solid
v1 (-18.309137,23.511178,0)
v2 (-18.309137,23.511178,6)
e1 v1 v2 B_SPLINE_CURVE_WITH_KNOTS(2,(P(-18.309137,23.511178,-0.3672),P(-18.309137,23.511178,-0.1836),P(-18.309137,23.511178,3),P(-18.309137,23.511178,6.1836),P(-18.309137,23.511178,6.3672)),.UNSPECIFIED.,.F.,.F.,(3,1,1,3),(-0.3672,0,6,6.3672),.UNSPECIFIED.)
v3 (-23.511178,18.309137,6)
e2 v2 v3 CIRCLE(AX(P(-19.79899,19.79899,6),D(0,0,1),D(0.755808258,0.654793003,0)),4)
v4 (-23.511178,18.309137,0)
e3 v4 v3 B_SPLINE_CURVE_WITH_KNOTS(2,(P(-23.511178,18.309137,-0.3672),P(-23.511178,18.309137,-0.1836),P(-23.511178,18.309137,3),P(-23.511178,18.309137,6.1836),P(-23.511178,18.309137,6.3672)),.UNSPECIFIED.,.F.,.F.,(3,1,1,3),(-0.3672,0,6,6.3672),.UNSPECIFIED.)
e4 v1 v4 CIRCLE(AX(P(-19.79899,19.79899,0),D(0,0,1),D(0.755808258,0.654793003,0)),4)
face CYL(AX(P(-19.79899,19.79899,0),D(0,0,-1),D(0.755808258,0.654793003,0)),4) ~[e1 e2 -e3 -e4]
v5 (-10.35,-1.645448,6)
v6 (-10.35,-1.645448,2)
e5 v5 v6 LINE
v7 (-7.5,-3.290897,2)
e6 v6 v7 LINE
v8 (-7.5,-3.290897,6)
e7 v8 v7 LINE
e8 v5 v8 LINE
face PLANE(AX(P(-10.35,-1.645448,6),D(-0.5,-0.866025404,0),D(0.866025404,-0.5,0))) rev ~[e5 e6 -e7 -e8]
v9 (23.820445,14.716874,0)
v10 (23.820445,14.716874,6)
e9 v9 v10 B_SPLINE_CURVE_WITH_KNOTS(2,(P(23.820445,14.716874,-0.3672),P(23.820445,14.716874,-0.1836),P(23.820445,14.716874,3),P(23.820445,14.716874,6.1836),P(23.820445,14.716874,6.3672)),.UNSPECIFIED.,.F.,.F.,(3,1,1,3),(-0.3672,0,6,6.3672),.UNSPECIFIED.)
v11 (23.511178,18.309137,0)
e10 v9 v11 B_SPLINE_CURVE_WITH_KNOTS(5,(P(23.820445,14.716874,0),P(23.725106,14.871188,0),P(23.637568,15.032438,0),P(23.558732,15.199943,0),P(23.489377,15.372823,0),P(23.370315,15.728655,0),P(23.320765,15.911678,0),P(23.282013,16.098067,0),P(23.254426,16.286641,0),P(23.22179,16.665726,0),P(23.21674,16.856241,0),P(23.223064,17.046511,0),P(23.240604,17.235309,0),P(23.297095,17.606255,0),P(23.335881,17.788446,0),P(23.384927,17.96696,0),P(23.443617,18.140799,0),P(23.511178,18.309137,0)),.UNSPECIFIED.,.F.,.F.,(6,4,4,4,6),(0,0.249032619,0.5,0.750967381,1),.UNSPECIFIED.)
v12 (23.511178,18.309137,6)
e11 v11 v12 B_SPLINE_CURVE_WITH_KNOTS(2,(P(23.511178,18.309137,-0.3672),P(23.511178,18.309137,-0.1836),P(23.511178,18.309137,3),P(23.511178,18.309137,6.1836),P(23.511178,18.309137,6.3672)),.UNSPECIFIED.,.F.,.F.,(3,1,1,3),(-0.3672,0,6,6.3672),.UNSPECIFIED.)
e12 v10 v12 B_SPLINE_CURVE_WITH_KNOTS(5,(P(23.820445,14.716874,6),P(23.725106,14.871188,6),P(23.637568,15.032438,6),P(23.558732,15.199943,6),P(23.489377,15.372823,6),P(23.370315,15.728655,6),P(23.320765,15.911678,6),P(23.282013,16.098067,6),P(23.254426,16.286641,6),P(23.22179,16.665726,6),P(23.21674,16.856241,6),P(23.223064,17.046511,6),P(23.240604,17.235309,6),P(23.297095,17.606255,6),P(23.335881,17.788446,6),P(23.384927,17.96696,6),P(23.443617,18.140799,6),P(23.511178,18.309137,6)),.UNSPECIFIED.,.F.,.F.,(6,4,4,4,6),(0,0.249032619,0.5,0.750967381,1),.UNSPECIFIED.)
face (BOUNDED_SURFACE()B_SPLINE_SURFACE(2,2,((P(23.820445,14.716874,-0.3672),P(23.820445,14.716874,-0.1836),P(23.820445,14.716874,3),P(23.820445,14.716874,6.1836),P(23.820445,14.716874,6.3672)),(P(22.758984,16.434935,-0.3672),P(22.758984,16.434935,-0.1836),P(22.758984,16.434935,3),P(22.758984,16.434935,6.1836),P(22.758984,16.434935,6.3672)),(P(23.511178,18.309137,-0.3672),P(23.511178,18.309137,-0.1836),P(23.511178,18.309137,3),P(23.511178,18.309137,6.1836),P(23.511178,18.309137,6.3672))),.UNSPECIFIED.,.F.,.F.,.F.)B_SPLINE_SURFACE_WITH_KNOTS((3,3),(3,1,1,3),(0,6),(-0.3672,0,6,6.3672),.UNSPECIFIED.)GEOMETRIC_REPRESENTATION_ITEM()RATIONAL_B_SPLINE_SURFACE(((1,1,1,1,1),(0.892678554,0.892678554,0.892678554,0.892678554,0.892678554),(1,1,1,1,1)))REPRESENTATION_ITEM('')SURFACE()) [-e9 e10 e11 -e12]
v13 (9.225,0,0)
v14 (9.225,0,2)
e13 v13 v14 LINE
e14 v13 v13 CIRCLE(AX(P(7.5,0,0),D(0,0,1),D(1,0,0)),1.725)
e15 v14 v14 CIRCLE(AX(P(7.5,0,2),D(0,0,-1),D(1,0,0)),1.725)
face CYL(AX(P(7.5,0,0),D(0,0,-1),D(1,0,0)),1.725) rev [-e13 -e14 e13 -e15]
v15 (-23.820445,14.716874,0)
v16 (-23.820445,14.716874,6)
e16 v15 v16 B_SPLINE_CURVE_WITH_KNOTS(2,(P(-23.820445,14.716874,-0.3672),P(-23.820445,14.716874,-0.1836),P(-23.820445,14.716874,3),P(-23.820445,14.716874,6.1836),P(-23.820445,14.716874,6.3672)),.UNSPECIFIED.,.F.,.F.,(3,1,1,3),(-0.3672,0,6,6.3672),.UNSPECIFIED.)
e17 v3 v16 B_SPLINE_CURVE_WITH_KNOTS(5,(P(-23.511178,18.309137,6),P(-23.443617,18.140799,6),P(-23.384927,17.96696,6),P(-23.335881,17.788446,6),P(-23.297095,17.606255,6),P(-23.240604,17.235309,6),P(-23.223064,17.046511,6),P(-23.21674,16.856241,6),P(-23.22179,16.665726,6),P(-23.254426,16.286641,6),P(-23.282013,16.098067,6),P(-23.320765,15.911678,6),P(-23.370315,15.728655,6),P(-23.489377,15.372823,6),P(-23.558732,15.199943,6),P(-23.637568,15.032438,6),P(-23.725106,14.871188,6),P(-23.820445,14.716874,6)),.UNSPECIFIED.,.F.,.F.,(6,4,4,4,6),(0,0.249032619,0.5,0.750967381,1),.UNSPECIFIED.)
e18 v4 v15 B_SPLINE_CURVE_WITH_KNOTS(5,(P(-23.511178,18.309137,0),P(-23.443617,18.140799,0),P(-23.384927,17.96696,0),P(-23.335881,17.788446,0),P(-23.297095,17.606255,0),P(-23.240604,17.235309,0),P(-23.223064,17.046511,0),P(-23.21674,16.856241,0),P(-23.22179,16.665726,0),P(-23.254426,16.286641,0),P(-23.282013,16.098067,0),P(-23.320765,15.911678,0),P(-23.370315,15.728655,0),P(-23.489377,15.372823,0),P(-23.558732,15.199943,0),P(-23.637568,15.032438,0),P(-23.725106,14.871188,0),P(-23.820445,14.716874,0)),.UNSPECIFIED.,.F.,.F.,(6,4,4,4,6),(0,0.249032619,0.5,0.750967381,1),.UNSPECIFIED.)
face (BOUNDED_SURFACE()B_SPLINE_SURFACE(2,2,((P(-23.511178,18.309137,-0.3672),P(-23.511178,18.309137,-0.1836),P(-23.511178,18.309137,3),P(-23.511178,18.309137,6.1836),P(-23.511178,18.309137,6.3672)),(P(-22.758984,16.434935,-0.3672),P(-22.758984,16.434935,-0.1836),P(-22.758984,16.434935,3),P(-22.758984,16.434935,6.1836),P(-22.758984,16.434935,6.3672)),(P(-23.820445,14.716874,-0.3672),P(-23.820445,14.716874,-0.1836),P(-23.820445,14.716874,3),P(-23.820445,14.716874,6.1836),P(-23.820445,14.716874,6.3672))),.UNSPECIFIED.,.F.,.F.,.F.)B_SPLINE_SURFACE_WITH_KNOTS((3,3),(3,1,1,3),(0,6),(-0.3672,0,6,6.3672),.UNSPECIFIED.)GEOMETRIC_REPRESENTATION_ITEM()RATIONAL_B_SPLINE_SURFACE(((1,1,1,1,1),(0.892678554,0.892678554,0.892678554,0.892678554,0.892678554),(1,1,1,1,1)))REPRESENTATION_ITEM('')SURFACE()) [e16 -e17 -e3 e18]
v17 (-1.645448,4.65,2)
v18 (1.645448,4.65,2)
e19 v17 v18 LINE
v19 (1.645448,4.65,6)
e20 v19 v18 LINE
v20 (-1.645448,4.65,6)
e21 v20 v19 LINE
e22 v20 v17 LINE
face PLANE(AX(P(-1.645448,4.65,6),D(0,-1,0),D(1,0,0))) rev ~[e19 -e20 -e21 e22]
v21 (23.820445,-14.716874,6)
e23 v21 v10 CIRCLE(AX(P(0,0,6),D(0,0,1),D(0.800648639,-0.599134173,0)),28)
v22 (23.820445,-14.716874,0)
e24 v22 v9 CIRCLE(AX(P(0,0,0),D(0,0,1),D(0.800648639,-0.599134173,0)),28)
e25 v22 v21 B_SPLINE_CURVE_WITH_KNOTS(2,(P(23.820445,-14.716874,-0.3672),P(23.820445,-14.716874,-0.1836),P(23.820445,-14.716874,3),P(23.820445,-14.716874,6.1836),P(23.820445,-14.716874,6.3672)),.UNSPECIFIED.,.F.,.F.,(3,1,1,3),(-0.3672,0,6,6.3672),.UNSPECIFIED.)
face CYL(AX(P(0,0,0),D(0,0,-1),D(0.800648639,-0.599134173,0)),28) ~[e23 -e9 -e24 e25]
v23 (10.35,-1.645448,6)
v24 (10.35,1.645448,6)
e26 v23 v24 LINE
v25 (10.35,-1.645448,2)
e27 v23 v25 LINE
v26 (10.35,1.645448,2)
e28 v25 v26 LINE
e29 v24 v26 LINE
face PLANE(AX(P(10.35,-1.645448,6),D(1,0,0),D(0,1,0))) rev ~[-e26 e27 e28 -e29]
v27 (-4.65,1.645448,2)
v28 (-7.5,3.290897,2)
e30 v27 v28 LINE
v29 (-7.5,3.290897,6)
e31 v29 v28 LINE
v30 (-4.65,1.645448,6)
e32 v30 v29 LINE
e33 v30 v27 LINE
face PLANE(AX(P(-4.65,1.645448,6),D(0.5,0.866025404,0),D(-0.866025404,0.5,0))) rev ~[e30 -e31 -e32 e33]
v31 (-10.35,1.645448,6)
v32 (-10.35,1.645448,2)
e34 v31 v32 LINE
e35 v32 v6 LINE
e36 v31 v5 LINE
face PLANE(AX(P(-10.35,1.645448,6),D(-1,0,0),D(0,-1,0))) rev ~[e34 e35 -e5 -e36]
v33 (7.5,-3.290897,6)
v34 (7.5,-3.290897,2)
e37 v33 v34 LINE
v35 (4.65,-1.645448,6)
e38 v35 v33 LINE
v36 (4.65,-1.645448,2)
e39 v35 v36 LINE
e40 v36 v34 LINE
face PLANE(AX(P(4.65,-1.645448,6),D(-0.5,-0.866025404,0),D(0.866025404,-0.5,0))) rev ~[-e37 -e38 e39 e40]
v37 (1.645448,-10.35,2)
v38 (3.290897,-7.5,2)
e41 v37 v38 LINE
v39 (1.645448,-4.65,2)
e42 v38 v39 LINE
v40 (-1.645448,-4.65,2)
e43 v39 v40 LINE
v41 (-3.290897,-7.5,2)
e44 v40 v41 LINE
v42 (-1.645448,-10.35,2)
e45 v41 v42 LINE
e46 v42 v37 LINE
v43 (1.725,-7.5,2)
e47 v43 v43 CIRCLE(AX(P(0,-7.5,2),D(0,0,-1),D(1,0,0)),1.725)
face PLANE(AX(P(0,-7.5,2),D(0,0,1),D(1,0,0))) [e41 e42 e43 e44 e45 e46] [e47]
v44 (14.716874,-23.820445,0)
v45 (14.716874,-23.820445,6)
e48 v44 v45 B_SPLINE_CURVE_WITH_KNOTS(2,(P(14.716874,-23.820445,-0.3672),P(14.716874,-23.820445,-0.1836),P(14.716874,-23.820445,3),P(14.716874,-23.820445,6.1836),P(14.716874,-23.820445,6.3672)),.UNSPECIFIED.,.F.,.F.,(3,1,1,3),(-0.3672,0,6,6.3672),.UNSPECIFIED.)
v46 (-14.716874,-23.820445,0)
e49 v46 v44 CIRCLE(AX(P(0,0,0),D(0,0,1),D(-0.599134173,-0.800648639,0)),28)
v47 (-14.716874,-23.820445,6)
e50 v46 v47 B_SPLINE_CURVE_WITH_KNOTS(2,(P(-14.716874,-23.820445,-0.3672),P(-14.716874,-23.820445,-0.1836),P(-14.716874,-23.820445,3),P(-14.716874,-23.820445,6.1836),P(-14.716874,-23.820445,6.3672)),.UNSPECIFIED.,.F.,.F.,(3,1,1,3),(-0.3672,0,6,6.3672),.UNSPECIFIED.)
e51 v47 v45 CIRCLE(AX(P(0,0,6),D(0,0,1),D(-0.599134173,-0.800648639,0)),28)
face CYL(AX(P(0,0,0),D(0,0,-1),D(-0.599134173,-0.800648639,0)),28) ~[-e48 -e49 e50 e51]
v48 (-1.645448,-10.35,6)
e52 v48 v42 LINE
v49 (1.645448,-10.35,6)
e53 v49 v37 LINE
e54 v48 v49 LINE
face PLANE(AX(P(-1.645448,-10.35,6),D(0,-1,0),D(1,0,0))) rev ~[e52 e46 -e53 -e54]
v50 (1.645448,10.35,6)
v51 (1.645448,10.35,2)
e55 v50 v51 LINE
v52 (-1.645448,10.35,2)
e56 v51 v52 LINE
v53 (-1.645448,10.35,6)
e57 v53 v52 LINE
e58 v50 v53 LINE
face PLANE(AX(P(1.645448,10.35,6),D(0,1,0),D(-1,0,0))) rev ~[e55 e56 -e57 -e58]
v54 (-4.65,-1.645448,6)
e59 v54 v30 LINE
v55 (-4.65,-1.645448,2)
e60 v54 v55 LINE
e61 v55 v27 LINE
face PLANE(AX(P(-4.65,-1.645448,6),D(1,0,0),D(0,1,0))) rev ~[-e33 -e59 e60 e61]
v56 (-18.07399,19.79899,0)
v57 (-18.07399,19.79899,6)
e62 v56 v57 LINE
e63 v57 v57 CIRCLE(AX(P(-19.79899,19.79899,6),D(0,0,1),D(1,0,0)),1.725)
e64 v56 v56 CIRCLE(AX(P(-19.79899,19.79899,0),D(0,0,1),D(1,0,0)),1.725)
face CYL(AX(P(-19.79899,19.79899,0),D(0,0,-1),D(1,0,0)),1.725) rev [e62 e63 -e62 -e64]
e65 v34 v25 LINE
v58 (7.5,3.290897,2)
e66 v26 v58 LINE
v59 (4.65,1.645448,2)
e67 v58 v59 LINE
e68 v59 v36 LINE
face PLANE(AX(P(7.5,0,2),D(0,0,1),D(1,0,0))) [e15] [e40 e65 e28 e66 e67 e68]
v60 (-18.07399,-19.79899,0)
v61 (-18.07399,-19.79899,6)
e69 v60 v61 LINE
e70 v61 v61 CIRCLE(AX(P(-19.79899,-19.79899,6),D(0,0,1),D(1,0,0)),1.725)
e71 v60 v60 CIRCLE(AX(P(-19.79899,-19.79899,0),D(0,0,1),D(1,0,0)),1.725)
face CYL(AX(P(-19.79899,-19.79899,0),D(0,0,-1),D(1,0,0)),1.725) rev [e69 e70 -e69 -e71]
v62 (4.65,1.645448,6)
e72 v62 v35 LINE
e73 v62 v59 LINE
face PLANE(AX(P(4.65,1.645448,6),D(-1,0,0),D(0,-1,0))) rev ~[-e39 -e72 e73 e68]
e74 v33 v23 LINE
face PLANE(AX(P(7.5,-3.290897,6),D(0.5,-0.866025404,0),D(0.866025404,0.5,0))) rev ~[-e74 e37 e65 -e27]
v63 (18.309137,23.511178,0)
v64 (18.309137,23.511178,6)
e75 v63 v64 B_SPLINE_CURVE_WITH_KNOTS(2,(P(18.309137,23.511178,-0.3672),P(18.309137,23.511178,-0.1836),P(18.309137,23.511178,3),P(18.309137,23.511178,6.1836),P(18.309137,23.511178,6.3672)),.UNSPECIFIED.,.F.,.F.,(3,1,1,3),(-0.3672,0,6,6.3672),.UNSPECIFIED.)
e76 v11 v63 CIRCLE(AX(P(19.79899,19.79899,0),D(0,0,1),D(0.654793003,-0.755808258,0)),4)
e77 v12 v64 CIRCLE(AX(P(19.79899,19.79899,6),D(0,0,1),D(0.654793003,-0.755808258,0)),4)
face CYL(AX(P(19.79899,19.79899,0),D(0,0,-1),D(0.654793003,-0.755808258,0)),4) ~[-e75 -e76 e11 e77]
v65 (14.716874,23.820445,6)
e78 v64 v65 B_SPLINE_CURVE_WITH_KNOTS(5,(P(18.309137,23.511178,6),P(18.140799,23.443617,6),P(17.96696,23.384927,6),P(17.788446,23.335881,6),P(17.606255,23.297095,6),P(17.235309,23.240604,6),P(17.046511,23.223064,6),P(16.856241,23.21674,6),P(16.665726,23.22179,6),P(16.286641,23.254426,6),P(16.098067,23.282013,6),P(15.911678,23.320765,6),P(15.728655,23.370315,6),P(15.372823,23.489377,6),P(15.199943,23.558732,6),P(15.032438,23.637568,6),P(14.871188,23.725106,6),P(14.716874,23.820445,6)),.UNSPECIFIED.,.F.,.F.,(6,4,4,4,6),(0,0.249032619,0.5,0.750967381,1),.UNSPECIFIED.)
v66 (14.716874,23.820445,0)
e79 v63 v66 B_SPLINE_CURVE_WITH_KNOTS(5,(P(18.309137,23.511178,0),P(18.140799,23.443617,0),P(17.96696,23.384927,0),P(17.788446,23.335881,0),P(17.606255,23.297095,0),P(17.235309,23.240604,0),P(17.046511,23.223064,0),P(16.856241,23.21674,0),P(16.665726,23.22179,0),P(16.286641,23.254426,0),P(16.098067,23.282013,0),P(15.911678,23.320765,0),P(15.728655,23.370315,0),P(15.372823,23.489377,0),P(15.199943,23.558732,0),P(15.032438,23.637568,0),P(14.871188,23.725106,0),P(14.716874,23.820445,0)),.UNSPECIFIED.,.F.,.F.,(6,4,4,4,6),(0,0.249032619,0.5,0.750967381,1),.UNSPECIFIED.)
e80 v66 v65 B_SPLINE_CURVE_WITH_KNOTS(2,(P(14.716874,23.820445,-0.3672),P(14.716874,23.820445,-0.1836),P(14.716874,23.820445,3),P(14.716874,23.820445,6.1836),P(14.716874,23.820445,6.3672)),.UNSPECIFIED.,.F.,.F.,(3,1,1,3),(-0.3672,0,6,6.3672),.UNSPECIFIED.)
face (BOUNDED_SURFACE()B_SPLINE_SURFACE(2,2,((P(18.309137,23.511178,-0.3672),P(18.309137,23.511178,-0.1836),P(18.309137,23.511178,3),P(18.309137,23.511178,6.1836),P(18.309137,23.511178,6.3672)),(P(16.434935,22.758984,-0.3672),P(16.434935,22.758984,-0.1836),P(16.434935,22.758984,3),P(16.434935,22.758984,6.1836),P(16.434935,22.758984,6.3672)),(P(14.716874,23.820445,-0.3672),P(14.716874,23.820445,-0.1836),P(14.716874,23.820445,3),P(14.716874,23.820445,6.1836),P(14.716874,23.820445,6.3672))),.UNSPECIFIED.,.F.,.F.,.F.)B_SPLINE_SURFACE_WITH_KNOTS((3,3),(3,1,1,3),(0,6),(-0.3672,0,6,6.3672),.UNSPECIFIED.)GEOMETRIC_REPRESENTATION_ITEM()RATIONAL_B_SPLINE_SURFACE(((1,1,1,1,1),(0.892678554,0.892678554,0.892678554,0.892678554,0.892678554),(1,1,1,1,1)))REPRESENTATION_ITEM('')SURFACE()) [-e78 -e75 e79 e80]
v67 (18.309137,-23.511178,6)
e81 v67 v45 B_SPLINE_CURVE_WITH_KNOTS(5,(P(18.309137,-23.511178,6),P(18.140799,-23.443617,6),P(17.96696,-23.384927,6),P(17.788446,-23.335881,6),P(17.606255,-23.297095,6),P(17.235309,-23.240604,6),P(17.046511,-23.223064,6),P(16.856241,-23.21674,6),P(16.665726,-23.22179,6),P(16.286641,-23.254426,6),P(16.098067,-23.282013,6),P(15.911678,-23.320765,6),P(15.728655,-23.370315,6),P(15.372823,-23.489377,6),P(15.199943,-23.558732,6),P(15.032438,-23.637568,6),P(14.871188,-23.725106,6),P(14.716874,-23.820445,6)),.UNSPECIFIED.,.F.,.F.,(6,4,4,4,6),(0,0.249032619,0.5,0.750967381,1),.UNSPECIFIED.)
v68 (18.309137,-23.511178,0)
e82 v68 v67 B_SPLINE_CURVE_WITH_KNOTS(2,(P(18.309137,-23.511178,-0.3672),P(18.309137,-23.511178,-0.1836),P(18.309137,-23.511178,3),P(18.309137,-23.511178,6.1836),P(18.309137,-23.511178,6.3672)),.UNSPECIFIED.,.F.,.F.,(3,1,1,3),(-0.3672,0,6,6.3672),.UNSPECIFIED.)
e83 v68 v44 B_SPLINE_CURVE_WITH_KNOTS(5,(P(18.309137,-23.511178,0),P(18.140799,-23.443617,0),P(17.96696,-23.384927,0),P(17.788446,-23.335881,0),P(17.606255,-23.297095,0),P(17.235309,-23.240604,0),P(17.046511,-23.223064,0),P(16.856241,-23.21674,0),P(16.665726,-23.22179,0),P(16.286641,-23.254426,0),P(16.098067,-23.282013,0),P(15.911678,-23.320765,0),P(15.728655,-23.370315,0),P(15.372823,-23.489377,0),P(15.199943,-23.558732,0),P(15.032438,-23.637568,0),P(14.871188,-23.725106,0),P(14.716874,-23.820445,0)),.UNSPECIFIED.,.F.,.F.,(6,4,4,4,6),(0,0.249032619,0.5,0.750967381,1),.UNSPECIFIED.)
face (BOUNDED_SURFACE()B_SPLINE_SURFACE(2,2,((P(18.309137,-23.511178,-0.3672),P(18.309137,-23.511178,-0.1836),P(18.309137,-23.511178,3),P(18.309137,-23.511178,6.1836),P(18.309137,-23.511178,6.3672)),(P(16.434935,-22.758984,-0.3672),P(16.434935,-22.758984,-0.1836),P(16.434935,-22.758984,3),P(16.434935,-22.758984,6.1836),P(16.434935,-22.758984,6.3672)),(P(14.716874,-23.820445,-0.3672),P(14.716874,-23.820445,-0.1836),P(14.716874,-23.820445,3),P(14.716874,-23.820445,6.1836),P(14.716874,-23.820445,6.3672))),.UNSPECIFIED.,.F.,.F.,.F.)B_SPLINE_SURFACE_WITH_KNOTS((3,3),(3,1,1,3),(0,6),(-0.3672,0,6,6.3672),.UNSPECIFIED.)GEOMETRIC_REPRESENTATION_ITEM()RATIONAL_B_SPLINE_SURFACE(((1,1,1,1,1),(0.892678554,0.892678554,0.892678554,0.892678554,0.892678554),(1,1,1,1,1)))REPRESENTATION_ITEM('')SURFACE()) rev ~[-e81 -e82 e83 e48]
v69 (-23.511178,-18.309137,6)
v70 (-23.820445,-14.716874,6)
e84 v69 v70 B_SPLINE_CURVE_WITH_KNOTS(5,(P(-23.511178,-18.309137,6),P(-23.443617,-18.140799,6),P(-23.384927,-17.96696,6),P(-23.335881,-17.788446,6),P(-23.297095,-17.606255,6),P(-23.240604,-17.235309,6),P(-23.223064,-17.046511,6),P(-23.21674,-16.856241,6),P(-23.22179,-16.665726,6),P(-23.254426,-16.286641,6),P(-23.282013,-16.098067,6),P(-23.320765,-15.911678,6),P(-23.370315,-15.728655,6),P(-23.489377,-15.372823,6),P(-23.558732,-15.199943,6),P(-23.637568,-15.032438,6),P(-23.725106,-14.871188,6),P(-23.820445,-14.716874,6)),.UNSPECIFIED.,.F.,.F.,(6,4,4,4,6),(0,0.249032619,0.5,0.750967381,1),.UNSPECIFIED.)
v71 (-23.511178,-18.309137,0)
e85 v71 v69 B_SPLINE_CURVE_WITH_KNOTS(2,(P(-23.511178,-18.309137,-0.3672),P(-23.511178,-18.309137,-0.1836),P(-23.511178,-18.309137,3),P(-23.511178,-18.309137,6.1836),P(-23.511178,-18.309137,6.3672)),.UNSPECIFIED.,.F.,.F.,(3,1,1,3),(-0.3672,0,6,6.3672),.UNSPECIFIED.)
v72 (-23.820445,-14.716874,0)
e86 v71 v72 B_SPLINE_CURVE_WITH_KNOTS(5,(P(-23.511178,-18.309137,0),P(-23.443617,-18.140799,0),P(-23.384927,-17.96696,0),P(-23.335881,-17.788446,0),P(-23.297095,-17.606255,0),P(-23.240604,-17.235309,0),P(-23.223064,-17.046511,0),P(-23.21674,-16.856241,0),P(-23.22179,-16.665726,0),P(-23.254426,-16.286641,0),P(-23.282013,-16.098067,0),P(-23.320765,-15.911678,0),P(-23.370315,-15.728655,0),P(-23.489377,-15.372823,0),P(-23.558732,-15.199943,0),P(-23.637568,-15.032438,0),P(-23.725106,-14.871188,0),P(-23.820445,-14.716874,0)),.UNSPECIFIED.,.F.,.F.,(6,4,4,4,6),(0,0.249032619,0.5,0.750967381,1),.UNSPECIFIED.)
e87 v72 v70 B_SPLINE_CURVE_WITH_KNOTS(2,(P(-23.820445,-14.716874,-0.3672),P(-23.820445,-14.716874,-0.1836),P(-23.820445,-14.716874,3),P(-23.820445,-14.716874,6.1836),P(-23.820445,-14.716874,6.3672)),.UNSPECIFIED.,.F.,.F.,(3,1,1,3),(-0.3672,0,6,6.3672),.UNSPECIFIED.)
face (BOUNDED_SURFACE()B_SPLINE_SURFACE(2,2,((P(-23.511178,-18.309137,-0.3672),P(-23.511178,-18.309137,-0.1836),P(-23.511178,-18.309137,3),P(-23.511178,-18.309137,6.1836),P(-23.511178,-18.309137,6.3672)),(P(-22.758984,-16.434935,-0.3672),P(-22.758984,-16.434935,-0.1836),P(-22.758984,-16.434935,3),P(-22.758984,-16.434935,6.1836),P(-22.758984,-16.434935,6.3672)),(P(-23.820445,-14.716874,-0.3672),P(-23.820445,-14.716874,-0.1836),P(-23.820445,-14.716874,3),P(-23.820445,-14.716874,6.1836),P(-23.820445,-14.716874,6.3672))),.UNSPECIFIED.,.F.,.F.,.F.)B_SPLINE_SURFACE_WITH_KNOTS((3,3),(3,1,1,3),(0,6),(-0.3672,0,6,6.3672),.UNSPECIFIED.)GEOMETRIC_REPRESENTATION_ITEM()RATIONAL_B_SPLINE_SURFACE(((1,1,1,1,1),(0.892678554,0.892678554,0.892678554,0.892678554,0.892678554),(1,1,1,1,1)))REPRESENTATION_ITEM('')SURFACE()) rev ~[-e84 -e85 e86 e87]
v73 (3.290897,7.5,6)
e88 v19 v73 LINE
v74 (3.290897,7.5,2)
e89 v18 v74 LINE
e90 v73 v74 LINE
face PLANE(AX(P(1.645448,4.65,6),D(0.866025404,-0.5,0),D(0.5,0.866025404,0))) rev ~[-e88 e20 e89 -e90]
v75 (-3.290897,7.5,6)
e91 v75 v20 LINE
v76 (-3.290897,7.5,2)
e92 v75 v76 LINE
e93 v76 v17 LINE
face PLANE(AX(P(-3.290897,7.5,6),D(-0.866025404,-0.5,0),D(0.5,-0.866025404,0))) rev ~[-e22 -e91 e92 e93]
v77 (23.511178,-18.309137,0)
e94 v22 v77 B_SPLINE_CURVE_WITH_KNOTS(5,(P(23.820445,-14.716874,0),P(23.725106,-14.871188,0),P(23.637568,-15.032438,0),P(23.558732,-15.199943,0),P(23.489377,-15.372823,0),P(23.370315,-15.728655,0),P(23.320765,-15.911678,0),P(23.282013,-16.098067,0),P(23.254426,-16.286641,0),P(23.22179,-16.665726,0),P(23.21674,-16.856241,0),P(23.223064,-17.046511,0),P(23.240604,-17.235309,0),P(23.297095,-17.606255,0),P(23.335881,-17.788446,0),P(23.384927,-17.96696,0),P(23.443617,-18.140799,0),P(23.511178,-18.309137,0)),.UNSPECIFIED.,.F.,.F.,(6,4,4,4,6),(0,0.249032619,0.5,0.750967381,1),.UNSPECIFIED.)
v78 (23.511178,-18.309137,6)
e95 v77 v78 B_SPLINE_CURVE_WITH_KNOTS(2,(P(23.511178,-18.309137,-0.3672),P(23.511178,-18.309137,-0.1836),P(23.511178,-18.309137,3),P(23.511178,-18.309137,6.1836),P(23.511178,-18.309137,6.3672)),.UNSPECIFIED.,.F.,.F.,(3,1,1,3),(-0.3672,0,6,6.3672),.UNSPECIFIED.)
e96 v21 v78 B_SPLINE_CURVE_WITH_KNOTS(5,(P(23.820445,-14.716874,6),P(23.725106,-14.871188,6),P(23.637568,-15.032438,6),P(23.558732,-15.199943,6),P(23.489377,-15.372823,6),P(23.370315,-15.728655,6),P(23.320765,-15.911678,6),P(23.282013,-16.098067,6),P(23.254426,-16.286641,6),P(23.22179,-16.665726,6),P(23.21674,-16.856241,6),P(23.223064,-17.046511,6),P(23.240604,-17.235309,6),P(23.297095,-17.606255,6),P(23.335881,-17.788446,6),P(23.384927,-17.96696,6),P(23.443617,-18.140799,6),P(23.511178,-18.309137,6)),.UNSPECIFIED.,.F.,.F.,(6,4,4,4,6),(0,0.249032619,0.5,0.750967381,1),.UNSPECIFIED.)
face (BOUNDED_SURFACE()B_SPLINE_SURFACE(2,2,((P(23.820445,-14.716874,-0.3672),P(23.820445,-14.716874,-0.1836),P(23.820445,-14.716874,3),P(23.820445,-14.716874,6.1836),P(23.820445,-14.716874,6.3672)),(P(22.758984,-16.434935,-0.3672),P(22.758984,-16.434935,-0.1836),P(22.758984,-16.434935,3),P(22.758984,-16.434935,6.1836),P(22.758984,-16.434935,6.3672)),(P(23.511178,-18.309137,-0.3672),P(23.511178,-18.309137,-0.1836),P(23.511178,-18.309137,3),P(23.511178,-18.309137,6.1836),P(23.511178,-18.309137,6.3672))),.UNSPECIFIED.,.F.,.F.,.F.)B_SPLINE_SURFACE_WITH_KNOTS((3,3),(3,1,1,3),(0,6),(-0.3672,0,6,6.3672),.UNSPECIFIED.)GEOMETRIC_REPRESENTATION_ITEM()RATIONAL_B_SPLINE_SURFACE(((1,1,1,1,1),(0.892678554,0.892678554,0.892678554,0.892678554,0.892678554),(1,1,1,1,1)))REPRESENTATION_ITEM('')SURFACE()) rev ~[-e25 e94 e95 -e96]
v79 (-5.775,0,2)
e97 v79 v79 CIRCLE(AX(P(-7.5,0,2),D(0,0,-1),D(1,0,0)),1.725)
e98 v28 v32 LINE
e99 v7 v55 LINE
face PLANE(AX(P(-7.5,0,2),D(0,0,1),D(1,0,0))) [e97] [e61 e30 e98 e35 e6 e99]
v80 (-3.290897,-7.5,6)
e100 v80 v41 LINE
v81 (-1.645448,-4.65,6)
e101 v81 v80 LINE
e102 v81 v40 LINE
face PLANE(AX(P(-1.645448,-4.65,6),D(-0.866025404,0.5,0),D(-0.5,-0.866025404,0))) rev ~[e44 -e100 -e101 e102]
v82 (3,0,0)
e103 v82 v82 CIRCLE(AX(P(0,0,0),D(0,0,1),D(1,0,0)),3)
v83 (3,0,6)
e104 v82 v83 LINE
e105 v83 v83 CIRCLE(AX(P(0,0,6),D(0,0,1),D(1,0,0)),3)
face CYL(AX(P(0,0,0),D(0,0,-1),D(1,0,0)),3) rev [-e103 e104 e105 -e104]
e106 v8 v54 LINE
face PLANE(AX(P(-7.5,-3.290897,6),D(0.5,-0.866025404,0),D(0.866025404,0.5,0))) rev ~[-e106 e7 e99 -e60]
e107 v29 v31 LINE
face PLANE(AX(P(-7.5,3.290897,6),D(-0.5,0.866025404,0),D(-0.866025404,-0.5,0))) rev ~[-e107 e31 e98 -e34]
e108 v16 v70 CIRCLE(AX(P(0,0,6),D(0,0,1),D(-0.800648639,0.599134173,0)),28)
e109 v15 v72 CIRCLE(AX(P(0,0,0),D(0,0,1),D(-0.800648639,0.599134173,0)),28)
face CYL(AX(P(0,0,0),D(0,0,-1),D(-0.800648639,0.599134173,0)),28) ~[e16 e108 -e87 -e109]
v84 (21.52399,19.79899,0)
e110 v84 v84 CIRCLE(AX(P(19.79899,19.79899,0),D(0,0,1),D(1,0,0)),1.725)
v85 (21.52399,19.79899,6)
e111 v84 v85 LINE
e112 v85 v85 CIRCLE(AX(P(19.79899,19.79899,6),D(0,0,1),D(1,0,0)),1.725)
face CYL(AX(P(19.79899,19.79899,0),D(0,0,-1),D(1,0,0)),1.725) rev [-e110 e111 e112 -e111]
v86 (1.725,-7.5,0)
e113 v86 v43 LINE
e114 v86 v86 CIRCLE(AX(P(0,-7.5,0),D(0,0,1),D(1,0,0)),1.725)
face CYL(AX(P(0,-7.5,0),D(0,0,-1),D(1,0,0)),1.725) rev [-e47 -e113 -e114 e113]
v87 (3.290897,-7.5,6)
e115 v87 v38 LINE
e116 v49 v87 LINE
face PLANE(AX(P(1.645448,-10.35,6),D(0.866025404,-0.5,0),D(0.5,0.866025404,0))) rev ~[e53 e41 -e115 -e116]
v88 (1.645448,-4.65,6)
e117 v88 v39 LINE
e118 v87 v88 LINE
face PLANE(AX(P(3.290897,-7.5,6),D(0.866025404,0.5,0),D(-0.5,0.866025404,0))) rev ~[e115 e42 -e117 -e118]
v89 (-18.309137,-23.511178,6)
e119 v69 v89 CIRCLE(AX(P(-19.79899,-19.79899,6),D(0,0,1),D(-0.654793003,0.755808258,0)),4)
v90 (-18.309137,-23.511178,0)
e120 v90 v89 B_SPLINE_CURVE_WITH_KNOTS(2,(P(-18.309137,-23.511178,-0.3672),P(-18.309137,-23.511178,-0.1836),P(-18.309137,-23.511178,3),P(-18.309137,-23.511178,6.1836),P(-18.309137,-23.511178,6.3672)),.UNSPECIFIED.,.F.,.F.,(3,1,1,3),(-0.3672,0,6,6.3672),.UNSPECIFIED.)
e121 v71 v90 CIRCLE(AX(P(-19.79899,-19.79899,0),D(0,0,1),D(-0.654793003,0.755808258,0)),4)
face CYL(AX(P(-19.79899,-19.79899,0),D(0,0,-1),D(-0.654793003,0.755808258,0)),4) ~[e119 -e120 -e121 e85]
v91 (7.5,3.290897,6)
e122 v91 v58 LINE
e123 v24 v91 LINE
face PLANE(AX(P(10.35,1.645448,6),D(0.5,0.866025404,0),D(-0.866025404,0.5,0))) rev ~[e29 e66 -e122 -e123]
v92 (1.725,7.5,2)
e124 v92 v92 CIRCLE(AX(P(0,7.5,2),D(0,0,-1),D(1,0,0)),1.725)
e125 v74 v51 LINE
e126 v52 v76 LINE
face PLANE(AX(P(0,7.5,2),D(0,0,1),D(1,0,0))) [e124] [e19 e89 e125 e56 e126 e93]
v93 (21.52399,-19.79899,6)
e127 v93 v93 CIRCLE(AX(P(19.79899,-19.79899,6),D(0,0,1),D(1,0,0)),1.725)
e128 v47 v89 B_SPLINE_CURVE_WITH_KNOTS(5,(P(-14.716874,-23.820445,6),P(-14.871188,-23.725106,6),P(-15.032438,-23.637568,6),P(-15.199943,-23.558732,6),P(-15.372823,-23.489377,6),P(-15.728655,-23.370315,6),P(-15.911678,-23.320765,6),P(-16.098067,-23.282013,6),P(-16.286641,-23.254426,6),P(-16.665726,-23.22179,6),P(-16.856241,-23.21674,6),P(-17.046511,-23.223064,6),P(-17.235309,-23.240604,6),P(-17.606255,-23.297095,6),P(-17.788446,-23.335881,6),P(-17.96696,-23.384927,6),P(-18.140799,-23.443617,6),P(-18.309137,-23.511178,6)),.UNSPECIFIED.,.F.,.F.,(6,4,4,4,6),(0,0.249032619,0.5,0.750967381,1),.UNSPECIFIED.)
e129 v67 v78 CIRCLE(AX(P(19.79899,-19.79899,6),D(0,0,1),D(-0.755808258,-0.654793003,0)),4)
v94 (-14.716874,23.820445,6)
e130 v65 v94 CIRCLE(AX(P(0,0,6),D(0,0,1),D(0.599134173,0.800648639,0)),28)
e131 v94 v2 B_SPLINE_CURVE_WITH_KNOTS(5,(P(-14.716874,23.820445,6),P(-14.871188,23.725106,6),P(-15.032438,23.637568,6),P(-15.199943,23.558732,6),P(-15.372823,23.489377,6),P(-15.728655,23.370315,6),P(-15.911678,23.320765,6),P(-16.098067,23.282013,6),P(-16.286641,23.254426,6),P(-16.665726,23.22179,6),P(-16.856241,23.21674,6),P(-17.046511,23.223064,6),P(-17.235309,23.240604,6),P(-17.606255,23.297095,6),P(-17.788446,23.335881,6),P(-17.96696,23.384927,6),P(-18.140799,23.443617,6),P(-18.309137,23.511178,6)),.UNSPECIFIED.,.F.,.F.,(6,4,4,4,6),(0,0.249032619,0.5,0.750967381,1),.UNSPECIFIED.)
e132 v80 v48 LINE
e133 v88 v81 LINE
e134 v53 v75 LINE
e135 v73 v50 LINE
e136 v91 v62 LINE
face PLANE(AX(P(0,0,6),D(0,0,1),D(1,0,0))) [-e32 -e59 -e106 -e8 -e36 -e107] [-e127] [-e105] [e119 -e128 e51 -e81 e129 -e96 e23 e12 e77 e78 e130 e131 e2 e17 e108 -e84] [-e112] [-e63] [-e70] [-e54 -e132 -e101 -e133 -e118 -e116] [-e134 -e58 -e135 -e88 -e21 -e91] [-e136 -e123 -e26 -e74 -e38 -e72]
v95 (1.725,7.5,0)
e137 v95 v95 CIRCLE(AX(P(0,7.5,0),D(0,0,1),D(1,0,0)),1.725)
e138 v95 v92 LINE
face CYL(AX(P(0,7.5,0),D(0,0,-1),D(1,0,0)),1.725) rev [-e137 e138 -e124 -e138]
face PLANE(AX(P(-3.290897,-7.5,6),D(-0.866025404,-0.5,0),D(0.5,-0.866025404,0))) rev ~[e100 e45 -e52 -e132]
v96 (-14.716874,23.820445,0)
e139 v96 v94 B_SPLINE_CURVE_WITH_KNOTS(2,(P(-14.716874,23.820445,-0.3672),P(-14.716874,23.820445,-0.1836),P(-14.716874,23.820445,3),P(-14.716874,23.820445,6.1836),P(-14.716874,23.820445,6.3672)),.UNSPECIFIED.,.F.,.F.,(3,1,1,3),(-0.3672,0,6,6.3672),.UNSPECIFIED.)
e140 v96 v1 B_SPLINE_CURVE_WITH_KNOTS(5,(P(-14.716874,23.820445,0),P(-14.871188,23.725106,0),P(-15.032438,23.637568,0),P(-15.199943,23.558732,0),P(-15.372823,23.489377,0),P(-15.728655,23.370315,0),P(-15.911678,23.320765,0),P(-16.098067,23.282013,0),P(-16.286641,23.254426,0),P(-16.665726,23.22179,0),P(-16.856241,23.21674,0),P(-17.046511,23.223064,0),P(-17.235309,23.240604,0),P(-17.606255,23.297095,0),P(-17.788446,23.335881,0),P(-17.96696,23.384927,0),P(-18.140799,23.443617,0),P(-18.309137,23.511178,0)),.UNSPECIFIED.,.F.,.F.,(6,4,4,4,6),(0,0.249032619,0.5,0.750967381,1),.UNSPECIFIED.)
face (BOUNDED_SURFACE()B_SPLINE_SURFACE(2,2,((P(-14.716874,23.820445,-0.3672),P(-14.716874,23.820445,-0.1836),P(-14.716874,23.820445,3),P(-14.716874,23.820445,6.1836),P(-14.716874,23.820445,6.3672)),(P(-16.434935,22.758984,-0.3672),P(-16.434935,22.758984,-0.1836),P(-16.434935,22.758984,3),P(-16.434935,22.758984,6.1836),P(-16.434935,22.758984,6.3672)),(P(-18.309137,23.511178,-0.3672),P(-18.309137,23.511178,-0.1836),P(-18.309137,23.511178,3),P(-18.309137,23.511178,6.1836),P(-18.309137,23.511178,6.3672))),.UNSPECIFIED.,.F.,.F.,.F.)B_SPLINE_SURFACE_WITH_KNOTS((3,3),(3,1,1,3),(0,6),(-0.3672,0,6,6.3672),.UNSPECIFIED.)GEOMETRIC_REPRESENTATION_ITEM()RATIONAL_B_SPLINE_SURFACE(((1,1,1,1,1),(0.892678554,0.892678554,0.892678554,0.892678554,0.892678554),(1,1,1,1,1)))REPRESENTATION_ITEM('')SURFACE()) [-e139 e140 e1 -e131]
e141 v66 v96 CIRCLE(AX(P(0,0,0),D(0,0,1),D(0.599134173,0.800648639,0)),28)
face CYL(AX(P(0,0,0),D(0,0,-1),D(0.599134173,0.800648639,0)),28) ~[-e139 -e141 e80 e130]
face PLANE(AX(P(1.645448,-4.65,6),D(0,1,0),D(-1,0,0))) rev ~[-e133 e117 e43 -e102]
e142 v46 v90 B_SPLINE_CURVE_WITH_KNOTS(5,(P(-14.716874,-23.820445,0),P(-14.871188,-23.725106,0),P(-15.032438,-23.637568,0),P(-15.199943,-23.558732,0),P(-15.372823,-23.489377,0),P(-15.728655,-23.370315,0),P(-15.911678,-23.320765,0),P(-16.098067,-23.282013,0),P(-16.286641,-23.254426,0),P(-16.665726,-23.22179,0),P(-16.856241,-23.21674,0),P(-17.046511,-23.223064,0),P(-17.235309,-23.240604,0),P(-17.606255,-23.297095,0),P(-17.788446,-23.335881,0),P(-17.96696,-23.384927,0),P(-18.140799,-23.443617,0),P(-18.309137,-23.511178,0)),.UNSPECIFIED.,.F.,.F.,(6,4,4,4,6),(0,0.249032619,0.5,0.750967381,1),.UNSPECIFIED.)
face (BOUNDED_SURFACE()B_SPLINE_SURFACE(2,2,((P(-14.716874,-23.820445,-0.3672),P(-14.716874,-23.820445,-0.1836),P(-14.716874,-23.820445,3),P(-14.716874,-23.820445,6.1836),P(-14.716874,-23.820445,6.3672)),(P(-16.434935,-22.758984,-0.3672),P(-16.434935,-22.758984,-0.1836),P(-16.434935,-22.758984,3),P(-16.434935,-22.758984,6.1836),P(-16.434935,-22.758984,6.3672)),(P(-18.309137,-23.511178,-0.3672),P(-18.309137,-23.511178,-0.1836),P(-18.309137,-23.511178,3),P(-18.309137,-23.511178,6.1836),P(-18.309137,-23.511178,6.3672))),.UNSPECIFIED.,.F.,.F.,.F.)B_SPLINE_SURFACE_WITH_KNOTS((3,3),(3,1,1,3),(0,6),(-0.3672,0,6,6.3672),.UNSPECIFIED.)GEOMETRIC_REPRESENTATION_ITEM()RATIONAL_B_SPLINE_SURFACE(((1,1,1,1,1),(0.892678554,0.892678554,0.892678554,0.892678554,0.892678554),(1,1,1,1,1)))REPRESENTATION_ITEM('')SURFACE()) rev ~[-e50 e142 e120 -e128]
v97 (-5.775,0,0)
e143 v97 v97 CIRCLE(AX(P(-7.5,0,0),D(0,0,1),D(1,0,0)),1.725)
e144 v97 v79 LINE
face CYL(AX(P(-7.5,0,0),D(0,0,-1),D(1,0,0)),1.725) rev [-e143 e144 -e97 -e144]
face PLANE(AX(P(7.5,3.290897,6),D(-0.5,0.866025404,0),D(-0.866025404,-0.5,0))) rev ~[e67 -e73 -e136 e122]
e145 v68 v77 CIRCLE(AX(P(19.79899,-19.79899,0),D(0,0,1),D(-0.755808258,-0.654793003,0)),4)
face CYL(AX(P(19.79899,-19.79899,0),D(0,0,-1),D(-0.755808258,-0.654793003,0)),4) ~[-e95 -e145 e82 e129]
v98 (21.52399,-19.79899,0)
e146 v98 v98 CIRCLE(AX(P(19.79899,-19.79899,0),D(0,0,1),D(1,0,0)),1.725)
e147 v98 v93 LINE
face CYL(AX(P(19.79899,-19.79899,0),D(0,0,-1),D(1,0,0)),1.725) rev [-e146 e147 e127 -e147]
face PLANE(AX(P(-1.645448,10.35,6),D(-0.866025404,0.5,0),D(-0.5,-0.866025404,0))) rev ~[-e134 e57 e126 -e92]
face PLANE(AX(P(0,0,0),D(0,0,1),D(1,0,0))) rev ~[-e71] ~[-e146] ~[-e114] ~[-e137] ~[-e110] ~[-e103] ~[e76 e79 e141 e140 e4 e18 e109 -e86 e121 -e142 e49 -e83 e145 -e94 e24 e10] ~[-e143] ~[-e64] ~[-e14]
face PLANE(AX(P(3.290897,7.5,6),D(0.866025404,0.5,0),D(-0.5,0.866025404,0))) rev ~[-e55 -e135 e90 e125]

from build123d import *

# Parameters (mm, degrees)
SKETCH1_R           = 1.725
SKETCH1_R_2         = 3
BOSS_EXTRUDE3_DEPTH = 6
CUT_EXTRUDE1_DEPTH  = 4
FILLET1_R           = 4


with BuildPart() as part:
    # Sketch1 → Boss-Extrude3 (new body)
    with BuildSketch(Plane.XY):
        with BuildLine():
            ThreePointArc((22.418161887, -16.775756842), (28, 0), (22.418161887, 16.775756842))
            ThreePointArc((22.418161887, 16.775756842), (22.627416998, 22.627416998), (16.775756842, 22.418161887))
            ThreePointArc((16.775756842, 22.418161887), (0, 28), (-16.775756842, 22.418161887))
            ThreePointArc((-16.775756842, 22.418161887), (-22.627416998, 22.627416998), (-22.418161887, 16.775756842))
            ThreePointArc((-22.418161887, 16.775756842), (-28, 0), (-22.418161887, -16.775756842))
            ThreePointArc((-22.418161887, -16.775756842), (-22.627416998, -22.627416998), (-16.775756842, -22.418161887))
            ThreePointArc((-16.775756842, -22.418161887), (0, -28), (16.775756842, -22.418161887))
            ThreePointArc((16.775756842, -22.418161887), (22.627416998, -22.627416998), (22.418161887, -16.775756842))
        make_face()
        with Locations((-19.798989873, 19.798989873)):
            Circle(SKETCH1_R, mode=Mode.SUBTRACT)
        with Locations((19.798989873, 19.798989873)):
            Circle(SKETCH1_R, mode=Mode.SUBTRACT)
        with Locations((-19.798989873, -19.798989873)):
            Circle(SKETCH1_R, mode=Mode.SUBTRACT)
        with Locations((19.798989873, -19.798989873)):
            Circle(SKETCH1_R, mode=Mode.SUBTRACT)
        Circle(SKETCH1_R_2, mode=Mode.SUBTRACT)
        with Locations((0, 7.5)):
            Circle(SKETCH1_R, mode=Mode.SUBTRACT)
        with Locations((-7.5, 0)):
            Circle(SKETCH1_R, mode=Mode.SUBTRACT)
        with Locations((0, -7.5)):
            Circle(SKETCH1_R, mode=Mode.SUBTRACT)
        with Locations((7.5, 0)):
            Circle(SKETCH1_R, mode=Mode.SUBTRACT)
    extrude(amount=BOSS_EXTRUDE3_DEPTH)

    # Sketch2 → Cut-Extrude1 (cut)
    with BuildSketch(Plane.XY.offset(6)):
        Polygon((3.290896534, 7.5), (1.645448267, 10.35), (-1.645448267, 10.35), (-3.290896534, 7.5), (-1.645448267, 4.65), (1.645448267, 4.65), align=None)
        Polygon((-4.65, 1.645448267), (-7.5, 3.290896534), (-10.35, 1.645448267), (-10.35, -1.645448267), (-7.5, -3.290896534), (-4.65, -1.645448267), align=None)
        Polygon((10.35, -1.645448267), (10.35, 1.645448267), (7.5, 3.290896534), (4.65, 1.645448267), (4.65, -1.645448267), (7.5, -3.290896534), align=None)
        Polygon((3.290896534, -7.5), (1.645448267, -4.65), (-1.645448267, -4.65), (-3.290896534, -7.5), (-1.645448267, -10.35), (1.645448267, -10.35), align=None)
    extrude(amount=-CUT_EXTRUDE1_DEPTH, mode=Mode.SUBTRACT)

    # Fillet1
    fillet1_edges = [part.edges().sort_by_distance(p)[0] for p in [
        (22.418161887, 16.775756842, 3),
        (22.418161887, -16.775756842, 3),
        (16.775756842, -22.418161887, 3),
        (-16.775756842, -22.418161887, 3),
        (-22.418161887, -16.775756842, 3),
        (-22.418161887, 16.775756842, 3),
        (-16.775756842, 22.418161887, 3),
        (16.775756842, 22.418161887, 3),
    ]]
    fillet(fillet1_edges, radius=FILLET1_R)


solid = part.part
